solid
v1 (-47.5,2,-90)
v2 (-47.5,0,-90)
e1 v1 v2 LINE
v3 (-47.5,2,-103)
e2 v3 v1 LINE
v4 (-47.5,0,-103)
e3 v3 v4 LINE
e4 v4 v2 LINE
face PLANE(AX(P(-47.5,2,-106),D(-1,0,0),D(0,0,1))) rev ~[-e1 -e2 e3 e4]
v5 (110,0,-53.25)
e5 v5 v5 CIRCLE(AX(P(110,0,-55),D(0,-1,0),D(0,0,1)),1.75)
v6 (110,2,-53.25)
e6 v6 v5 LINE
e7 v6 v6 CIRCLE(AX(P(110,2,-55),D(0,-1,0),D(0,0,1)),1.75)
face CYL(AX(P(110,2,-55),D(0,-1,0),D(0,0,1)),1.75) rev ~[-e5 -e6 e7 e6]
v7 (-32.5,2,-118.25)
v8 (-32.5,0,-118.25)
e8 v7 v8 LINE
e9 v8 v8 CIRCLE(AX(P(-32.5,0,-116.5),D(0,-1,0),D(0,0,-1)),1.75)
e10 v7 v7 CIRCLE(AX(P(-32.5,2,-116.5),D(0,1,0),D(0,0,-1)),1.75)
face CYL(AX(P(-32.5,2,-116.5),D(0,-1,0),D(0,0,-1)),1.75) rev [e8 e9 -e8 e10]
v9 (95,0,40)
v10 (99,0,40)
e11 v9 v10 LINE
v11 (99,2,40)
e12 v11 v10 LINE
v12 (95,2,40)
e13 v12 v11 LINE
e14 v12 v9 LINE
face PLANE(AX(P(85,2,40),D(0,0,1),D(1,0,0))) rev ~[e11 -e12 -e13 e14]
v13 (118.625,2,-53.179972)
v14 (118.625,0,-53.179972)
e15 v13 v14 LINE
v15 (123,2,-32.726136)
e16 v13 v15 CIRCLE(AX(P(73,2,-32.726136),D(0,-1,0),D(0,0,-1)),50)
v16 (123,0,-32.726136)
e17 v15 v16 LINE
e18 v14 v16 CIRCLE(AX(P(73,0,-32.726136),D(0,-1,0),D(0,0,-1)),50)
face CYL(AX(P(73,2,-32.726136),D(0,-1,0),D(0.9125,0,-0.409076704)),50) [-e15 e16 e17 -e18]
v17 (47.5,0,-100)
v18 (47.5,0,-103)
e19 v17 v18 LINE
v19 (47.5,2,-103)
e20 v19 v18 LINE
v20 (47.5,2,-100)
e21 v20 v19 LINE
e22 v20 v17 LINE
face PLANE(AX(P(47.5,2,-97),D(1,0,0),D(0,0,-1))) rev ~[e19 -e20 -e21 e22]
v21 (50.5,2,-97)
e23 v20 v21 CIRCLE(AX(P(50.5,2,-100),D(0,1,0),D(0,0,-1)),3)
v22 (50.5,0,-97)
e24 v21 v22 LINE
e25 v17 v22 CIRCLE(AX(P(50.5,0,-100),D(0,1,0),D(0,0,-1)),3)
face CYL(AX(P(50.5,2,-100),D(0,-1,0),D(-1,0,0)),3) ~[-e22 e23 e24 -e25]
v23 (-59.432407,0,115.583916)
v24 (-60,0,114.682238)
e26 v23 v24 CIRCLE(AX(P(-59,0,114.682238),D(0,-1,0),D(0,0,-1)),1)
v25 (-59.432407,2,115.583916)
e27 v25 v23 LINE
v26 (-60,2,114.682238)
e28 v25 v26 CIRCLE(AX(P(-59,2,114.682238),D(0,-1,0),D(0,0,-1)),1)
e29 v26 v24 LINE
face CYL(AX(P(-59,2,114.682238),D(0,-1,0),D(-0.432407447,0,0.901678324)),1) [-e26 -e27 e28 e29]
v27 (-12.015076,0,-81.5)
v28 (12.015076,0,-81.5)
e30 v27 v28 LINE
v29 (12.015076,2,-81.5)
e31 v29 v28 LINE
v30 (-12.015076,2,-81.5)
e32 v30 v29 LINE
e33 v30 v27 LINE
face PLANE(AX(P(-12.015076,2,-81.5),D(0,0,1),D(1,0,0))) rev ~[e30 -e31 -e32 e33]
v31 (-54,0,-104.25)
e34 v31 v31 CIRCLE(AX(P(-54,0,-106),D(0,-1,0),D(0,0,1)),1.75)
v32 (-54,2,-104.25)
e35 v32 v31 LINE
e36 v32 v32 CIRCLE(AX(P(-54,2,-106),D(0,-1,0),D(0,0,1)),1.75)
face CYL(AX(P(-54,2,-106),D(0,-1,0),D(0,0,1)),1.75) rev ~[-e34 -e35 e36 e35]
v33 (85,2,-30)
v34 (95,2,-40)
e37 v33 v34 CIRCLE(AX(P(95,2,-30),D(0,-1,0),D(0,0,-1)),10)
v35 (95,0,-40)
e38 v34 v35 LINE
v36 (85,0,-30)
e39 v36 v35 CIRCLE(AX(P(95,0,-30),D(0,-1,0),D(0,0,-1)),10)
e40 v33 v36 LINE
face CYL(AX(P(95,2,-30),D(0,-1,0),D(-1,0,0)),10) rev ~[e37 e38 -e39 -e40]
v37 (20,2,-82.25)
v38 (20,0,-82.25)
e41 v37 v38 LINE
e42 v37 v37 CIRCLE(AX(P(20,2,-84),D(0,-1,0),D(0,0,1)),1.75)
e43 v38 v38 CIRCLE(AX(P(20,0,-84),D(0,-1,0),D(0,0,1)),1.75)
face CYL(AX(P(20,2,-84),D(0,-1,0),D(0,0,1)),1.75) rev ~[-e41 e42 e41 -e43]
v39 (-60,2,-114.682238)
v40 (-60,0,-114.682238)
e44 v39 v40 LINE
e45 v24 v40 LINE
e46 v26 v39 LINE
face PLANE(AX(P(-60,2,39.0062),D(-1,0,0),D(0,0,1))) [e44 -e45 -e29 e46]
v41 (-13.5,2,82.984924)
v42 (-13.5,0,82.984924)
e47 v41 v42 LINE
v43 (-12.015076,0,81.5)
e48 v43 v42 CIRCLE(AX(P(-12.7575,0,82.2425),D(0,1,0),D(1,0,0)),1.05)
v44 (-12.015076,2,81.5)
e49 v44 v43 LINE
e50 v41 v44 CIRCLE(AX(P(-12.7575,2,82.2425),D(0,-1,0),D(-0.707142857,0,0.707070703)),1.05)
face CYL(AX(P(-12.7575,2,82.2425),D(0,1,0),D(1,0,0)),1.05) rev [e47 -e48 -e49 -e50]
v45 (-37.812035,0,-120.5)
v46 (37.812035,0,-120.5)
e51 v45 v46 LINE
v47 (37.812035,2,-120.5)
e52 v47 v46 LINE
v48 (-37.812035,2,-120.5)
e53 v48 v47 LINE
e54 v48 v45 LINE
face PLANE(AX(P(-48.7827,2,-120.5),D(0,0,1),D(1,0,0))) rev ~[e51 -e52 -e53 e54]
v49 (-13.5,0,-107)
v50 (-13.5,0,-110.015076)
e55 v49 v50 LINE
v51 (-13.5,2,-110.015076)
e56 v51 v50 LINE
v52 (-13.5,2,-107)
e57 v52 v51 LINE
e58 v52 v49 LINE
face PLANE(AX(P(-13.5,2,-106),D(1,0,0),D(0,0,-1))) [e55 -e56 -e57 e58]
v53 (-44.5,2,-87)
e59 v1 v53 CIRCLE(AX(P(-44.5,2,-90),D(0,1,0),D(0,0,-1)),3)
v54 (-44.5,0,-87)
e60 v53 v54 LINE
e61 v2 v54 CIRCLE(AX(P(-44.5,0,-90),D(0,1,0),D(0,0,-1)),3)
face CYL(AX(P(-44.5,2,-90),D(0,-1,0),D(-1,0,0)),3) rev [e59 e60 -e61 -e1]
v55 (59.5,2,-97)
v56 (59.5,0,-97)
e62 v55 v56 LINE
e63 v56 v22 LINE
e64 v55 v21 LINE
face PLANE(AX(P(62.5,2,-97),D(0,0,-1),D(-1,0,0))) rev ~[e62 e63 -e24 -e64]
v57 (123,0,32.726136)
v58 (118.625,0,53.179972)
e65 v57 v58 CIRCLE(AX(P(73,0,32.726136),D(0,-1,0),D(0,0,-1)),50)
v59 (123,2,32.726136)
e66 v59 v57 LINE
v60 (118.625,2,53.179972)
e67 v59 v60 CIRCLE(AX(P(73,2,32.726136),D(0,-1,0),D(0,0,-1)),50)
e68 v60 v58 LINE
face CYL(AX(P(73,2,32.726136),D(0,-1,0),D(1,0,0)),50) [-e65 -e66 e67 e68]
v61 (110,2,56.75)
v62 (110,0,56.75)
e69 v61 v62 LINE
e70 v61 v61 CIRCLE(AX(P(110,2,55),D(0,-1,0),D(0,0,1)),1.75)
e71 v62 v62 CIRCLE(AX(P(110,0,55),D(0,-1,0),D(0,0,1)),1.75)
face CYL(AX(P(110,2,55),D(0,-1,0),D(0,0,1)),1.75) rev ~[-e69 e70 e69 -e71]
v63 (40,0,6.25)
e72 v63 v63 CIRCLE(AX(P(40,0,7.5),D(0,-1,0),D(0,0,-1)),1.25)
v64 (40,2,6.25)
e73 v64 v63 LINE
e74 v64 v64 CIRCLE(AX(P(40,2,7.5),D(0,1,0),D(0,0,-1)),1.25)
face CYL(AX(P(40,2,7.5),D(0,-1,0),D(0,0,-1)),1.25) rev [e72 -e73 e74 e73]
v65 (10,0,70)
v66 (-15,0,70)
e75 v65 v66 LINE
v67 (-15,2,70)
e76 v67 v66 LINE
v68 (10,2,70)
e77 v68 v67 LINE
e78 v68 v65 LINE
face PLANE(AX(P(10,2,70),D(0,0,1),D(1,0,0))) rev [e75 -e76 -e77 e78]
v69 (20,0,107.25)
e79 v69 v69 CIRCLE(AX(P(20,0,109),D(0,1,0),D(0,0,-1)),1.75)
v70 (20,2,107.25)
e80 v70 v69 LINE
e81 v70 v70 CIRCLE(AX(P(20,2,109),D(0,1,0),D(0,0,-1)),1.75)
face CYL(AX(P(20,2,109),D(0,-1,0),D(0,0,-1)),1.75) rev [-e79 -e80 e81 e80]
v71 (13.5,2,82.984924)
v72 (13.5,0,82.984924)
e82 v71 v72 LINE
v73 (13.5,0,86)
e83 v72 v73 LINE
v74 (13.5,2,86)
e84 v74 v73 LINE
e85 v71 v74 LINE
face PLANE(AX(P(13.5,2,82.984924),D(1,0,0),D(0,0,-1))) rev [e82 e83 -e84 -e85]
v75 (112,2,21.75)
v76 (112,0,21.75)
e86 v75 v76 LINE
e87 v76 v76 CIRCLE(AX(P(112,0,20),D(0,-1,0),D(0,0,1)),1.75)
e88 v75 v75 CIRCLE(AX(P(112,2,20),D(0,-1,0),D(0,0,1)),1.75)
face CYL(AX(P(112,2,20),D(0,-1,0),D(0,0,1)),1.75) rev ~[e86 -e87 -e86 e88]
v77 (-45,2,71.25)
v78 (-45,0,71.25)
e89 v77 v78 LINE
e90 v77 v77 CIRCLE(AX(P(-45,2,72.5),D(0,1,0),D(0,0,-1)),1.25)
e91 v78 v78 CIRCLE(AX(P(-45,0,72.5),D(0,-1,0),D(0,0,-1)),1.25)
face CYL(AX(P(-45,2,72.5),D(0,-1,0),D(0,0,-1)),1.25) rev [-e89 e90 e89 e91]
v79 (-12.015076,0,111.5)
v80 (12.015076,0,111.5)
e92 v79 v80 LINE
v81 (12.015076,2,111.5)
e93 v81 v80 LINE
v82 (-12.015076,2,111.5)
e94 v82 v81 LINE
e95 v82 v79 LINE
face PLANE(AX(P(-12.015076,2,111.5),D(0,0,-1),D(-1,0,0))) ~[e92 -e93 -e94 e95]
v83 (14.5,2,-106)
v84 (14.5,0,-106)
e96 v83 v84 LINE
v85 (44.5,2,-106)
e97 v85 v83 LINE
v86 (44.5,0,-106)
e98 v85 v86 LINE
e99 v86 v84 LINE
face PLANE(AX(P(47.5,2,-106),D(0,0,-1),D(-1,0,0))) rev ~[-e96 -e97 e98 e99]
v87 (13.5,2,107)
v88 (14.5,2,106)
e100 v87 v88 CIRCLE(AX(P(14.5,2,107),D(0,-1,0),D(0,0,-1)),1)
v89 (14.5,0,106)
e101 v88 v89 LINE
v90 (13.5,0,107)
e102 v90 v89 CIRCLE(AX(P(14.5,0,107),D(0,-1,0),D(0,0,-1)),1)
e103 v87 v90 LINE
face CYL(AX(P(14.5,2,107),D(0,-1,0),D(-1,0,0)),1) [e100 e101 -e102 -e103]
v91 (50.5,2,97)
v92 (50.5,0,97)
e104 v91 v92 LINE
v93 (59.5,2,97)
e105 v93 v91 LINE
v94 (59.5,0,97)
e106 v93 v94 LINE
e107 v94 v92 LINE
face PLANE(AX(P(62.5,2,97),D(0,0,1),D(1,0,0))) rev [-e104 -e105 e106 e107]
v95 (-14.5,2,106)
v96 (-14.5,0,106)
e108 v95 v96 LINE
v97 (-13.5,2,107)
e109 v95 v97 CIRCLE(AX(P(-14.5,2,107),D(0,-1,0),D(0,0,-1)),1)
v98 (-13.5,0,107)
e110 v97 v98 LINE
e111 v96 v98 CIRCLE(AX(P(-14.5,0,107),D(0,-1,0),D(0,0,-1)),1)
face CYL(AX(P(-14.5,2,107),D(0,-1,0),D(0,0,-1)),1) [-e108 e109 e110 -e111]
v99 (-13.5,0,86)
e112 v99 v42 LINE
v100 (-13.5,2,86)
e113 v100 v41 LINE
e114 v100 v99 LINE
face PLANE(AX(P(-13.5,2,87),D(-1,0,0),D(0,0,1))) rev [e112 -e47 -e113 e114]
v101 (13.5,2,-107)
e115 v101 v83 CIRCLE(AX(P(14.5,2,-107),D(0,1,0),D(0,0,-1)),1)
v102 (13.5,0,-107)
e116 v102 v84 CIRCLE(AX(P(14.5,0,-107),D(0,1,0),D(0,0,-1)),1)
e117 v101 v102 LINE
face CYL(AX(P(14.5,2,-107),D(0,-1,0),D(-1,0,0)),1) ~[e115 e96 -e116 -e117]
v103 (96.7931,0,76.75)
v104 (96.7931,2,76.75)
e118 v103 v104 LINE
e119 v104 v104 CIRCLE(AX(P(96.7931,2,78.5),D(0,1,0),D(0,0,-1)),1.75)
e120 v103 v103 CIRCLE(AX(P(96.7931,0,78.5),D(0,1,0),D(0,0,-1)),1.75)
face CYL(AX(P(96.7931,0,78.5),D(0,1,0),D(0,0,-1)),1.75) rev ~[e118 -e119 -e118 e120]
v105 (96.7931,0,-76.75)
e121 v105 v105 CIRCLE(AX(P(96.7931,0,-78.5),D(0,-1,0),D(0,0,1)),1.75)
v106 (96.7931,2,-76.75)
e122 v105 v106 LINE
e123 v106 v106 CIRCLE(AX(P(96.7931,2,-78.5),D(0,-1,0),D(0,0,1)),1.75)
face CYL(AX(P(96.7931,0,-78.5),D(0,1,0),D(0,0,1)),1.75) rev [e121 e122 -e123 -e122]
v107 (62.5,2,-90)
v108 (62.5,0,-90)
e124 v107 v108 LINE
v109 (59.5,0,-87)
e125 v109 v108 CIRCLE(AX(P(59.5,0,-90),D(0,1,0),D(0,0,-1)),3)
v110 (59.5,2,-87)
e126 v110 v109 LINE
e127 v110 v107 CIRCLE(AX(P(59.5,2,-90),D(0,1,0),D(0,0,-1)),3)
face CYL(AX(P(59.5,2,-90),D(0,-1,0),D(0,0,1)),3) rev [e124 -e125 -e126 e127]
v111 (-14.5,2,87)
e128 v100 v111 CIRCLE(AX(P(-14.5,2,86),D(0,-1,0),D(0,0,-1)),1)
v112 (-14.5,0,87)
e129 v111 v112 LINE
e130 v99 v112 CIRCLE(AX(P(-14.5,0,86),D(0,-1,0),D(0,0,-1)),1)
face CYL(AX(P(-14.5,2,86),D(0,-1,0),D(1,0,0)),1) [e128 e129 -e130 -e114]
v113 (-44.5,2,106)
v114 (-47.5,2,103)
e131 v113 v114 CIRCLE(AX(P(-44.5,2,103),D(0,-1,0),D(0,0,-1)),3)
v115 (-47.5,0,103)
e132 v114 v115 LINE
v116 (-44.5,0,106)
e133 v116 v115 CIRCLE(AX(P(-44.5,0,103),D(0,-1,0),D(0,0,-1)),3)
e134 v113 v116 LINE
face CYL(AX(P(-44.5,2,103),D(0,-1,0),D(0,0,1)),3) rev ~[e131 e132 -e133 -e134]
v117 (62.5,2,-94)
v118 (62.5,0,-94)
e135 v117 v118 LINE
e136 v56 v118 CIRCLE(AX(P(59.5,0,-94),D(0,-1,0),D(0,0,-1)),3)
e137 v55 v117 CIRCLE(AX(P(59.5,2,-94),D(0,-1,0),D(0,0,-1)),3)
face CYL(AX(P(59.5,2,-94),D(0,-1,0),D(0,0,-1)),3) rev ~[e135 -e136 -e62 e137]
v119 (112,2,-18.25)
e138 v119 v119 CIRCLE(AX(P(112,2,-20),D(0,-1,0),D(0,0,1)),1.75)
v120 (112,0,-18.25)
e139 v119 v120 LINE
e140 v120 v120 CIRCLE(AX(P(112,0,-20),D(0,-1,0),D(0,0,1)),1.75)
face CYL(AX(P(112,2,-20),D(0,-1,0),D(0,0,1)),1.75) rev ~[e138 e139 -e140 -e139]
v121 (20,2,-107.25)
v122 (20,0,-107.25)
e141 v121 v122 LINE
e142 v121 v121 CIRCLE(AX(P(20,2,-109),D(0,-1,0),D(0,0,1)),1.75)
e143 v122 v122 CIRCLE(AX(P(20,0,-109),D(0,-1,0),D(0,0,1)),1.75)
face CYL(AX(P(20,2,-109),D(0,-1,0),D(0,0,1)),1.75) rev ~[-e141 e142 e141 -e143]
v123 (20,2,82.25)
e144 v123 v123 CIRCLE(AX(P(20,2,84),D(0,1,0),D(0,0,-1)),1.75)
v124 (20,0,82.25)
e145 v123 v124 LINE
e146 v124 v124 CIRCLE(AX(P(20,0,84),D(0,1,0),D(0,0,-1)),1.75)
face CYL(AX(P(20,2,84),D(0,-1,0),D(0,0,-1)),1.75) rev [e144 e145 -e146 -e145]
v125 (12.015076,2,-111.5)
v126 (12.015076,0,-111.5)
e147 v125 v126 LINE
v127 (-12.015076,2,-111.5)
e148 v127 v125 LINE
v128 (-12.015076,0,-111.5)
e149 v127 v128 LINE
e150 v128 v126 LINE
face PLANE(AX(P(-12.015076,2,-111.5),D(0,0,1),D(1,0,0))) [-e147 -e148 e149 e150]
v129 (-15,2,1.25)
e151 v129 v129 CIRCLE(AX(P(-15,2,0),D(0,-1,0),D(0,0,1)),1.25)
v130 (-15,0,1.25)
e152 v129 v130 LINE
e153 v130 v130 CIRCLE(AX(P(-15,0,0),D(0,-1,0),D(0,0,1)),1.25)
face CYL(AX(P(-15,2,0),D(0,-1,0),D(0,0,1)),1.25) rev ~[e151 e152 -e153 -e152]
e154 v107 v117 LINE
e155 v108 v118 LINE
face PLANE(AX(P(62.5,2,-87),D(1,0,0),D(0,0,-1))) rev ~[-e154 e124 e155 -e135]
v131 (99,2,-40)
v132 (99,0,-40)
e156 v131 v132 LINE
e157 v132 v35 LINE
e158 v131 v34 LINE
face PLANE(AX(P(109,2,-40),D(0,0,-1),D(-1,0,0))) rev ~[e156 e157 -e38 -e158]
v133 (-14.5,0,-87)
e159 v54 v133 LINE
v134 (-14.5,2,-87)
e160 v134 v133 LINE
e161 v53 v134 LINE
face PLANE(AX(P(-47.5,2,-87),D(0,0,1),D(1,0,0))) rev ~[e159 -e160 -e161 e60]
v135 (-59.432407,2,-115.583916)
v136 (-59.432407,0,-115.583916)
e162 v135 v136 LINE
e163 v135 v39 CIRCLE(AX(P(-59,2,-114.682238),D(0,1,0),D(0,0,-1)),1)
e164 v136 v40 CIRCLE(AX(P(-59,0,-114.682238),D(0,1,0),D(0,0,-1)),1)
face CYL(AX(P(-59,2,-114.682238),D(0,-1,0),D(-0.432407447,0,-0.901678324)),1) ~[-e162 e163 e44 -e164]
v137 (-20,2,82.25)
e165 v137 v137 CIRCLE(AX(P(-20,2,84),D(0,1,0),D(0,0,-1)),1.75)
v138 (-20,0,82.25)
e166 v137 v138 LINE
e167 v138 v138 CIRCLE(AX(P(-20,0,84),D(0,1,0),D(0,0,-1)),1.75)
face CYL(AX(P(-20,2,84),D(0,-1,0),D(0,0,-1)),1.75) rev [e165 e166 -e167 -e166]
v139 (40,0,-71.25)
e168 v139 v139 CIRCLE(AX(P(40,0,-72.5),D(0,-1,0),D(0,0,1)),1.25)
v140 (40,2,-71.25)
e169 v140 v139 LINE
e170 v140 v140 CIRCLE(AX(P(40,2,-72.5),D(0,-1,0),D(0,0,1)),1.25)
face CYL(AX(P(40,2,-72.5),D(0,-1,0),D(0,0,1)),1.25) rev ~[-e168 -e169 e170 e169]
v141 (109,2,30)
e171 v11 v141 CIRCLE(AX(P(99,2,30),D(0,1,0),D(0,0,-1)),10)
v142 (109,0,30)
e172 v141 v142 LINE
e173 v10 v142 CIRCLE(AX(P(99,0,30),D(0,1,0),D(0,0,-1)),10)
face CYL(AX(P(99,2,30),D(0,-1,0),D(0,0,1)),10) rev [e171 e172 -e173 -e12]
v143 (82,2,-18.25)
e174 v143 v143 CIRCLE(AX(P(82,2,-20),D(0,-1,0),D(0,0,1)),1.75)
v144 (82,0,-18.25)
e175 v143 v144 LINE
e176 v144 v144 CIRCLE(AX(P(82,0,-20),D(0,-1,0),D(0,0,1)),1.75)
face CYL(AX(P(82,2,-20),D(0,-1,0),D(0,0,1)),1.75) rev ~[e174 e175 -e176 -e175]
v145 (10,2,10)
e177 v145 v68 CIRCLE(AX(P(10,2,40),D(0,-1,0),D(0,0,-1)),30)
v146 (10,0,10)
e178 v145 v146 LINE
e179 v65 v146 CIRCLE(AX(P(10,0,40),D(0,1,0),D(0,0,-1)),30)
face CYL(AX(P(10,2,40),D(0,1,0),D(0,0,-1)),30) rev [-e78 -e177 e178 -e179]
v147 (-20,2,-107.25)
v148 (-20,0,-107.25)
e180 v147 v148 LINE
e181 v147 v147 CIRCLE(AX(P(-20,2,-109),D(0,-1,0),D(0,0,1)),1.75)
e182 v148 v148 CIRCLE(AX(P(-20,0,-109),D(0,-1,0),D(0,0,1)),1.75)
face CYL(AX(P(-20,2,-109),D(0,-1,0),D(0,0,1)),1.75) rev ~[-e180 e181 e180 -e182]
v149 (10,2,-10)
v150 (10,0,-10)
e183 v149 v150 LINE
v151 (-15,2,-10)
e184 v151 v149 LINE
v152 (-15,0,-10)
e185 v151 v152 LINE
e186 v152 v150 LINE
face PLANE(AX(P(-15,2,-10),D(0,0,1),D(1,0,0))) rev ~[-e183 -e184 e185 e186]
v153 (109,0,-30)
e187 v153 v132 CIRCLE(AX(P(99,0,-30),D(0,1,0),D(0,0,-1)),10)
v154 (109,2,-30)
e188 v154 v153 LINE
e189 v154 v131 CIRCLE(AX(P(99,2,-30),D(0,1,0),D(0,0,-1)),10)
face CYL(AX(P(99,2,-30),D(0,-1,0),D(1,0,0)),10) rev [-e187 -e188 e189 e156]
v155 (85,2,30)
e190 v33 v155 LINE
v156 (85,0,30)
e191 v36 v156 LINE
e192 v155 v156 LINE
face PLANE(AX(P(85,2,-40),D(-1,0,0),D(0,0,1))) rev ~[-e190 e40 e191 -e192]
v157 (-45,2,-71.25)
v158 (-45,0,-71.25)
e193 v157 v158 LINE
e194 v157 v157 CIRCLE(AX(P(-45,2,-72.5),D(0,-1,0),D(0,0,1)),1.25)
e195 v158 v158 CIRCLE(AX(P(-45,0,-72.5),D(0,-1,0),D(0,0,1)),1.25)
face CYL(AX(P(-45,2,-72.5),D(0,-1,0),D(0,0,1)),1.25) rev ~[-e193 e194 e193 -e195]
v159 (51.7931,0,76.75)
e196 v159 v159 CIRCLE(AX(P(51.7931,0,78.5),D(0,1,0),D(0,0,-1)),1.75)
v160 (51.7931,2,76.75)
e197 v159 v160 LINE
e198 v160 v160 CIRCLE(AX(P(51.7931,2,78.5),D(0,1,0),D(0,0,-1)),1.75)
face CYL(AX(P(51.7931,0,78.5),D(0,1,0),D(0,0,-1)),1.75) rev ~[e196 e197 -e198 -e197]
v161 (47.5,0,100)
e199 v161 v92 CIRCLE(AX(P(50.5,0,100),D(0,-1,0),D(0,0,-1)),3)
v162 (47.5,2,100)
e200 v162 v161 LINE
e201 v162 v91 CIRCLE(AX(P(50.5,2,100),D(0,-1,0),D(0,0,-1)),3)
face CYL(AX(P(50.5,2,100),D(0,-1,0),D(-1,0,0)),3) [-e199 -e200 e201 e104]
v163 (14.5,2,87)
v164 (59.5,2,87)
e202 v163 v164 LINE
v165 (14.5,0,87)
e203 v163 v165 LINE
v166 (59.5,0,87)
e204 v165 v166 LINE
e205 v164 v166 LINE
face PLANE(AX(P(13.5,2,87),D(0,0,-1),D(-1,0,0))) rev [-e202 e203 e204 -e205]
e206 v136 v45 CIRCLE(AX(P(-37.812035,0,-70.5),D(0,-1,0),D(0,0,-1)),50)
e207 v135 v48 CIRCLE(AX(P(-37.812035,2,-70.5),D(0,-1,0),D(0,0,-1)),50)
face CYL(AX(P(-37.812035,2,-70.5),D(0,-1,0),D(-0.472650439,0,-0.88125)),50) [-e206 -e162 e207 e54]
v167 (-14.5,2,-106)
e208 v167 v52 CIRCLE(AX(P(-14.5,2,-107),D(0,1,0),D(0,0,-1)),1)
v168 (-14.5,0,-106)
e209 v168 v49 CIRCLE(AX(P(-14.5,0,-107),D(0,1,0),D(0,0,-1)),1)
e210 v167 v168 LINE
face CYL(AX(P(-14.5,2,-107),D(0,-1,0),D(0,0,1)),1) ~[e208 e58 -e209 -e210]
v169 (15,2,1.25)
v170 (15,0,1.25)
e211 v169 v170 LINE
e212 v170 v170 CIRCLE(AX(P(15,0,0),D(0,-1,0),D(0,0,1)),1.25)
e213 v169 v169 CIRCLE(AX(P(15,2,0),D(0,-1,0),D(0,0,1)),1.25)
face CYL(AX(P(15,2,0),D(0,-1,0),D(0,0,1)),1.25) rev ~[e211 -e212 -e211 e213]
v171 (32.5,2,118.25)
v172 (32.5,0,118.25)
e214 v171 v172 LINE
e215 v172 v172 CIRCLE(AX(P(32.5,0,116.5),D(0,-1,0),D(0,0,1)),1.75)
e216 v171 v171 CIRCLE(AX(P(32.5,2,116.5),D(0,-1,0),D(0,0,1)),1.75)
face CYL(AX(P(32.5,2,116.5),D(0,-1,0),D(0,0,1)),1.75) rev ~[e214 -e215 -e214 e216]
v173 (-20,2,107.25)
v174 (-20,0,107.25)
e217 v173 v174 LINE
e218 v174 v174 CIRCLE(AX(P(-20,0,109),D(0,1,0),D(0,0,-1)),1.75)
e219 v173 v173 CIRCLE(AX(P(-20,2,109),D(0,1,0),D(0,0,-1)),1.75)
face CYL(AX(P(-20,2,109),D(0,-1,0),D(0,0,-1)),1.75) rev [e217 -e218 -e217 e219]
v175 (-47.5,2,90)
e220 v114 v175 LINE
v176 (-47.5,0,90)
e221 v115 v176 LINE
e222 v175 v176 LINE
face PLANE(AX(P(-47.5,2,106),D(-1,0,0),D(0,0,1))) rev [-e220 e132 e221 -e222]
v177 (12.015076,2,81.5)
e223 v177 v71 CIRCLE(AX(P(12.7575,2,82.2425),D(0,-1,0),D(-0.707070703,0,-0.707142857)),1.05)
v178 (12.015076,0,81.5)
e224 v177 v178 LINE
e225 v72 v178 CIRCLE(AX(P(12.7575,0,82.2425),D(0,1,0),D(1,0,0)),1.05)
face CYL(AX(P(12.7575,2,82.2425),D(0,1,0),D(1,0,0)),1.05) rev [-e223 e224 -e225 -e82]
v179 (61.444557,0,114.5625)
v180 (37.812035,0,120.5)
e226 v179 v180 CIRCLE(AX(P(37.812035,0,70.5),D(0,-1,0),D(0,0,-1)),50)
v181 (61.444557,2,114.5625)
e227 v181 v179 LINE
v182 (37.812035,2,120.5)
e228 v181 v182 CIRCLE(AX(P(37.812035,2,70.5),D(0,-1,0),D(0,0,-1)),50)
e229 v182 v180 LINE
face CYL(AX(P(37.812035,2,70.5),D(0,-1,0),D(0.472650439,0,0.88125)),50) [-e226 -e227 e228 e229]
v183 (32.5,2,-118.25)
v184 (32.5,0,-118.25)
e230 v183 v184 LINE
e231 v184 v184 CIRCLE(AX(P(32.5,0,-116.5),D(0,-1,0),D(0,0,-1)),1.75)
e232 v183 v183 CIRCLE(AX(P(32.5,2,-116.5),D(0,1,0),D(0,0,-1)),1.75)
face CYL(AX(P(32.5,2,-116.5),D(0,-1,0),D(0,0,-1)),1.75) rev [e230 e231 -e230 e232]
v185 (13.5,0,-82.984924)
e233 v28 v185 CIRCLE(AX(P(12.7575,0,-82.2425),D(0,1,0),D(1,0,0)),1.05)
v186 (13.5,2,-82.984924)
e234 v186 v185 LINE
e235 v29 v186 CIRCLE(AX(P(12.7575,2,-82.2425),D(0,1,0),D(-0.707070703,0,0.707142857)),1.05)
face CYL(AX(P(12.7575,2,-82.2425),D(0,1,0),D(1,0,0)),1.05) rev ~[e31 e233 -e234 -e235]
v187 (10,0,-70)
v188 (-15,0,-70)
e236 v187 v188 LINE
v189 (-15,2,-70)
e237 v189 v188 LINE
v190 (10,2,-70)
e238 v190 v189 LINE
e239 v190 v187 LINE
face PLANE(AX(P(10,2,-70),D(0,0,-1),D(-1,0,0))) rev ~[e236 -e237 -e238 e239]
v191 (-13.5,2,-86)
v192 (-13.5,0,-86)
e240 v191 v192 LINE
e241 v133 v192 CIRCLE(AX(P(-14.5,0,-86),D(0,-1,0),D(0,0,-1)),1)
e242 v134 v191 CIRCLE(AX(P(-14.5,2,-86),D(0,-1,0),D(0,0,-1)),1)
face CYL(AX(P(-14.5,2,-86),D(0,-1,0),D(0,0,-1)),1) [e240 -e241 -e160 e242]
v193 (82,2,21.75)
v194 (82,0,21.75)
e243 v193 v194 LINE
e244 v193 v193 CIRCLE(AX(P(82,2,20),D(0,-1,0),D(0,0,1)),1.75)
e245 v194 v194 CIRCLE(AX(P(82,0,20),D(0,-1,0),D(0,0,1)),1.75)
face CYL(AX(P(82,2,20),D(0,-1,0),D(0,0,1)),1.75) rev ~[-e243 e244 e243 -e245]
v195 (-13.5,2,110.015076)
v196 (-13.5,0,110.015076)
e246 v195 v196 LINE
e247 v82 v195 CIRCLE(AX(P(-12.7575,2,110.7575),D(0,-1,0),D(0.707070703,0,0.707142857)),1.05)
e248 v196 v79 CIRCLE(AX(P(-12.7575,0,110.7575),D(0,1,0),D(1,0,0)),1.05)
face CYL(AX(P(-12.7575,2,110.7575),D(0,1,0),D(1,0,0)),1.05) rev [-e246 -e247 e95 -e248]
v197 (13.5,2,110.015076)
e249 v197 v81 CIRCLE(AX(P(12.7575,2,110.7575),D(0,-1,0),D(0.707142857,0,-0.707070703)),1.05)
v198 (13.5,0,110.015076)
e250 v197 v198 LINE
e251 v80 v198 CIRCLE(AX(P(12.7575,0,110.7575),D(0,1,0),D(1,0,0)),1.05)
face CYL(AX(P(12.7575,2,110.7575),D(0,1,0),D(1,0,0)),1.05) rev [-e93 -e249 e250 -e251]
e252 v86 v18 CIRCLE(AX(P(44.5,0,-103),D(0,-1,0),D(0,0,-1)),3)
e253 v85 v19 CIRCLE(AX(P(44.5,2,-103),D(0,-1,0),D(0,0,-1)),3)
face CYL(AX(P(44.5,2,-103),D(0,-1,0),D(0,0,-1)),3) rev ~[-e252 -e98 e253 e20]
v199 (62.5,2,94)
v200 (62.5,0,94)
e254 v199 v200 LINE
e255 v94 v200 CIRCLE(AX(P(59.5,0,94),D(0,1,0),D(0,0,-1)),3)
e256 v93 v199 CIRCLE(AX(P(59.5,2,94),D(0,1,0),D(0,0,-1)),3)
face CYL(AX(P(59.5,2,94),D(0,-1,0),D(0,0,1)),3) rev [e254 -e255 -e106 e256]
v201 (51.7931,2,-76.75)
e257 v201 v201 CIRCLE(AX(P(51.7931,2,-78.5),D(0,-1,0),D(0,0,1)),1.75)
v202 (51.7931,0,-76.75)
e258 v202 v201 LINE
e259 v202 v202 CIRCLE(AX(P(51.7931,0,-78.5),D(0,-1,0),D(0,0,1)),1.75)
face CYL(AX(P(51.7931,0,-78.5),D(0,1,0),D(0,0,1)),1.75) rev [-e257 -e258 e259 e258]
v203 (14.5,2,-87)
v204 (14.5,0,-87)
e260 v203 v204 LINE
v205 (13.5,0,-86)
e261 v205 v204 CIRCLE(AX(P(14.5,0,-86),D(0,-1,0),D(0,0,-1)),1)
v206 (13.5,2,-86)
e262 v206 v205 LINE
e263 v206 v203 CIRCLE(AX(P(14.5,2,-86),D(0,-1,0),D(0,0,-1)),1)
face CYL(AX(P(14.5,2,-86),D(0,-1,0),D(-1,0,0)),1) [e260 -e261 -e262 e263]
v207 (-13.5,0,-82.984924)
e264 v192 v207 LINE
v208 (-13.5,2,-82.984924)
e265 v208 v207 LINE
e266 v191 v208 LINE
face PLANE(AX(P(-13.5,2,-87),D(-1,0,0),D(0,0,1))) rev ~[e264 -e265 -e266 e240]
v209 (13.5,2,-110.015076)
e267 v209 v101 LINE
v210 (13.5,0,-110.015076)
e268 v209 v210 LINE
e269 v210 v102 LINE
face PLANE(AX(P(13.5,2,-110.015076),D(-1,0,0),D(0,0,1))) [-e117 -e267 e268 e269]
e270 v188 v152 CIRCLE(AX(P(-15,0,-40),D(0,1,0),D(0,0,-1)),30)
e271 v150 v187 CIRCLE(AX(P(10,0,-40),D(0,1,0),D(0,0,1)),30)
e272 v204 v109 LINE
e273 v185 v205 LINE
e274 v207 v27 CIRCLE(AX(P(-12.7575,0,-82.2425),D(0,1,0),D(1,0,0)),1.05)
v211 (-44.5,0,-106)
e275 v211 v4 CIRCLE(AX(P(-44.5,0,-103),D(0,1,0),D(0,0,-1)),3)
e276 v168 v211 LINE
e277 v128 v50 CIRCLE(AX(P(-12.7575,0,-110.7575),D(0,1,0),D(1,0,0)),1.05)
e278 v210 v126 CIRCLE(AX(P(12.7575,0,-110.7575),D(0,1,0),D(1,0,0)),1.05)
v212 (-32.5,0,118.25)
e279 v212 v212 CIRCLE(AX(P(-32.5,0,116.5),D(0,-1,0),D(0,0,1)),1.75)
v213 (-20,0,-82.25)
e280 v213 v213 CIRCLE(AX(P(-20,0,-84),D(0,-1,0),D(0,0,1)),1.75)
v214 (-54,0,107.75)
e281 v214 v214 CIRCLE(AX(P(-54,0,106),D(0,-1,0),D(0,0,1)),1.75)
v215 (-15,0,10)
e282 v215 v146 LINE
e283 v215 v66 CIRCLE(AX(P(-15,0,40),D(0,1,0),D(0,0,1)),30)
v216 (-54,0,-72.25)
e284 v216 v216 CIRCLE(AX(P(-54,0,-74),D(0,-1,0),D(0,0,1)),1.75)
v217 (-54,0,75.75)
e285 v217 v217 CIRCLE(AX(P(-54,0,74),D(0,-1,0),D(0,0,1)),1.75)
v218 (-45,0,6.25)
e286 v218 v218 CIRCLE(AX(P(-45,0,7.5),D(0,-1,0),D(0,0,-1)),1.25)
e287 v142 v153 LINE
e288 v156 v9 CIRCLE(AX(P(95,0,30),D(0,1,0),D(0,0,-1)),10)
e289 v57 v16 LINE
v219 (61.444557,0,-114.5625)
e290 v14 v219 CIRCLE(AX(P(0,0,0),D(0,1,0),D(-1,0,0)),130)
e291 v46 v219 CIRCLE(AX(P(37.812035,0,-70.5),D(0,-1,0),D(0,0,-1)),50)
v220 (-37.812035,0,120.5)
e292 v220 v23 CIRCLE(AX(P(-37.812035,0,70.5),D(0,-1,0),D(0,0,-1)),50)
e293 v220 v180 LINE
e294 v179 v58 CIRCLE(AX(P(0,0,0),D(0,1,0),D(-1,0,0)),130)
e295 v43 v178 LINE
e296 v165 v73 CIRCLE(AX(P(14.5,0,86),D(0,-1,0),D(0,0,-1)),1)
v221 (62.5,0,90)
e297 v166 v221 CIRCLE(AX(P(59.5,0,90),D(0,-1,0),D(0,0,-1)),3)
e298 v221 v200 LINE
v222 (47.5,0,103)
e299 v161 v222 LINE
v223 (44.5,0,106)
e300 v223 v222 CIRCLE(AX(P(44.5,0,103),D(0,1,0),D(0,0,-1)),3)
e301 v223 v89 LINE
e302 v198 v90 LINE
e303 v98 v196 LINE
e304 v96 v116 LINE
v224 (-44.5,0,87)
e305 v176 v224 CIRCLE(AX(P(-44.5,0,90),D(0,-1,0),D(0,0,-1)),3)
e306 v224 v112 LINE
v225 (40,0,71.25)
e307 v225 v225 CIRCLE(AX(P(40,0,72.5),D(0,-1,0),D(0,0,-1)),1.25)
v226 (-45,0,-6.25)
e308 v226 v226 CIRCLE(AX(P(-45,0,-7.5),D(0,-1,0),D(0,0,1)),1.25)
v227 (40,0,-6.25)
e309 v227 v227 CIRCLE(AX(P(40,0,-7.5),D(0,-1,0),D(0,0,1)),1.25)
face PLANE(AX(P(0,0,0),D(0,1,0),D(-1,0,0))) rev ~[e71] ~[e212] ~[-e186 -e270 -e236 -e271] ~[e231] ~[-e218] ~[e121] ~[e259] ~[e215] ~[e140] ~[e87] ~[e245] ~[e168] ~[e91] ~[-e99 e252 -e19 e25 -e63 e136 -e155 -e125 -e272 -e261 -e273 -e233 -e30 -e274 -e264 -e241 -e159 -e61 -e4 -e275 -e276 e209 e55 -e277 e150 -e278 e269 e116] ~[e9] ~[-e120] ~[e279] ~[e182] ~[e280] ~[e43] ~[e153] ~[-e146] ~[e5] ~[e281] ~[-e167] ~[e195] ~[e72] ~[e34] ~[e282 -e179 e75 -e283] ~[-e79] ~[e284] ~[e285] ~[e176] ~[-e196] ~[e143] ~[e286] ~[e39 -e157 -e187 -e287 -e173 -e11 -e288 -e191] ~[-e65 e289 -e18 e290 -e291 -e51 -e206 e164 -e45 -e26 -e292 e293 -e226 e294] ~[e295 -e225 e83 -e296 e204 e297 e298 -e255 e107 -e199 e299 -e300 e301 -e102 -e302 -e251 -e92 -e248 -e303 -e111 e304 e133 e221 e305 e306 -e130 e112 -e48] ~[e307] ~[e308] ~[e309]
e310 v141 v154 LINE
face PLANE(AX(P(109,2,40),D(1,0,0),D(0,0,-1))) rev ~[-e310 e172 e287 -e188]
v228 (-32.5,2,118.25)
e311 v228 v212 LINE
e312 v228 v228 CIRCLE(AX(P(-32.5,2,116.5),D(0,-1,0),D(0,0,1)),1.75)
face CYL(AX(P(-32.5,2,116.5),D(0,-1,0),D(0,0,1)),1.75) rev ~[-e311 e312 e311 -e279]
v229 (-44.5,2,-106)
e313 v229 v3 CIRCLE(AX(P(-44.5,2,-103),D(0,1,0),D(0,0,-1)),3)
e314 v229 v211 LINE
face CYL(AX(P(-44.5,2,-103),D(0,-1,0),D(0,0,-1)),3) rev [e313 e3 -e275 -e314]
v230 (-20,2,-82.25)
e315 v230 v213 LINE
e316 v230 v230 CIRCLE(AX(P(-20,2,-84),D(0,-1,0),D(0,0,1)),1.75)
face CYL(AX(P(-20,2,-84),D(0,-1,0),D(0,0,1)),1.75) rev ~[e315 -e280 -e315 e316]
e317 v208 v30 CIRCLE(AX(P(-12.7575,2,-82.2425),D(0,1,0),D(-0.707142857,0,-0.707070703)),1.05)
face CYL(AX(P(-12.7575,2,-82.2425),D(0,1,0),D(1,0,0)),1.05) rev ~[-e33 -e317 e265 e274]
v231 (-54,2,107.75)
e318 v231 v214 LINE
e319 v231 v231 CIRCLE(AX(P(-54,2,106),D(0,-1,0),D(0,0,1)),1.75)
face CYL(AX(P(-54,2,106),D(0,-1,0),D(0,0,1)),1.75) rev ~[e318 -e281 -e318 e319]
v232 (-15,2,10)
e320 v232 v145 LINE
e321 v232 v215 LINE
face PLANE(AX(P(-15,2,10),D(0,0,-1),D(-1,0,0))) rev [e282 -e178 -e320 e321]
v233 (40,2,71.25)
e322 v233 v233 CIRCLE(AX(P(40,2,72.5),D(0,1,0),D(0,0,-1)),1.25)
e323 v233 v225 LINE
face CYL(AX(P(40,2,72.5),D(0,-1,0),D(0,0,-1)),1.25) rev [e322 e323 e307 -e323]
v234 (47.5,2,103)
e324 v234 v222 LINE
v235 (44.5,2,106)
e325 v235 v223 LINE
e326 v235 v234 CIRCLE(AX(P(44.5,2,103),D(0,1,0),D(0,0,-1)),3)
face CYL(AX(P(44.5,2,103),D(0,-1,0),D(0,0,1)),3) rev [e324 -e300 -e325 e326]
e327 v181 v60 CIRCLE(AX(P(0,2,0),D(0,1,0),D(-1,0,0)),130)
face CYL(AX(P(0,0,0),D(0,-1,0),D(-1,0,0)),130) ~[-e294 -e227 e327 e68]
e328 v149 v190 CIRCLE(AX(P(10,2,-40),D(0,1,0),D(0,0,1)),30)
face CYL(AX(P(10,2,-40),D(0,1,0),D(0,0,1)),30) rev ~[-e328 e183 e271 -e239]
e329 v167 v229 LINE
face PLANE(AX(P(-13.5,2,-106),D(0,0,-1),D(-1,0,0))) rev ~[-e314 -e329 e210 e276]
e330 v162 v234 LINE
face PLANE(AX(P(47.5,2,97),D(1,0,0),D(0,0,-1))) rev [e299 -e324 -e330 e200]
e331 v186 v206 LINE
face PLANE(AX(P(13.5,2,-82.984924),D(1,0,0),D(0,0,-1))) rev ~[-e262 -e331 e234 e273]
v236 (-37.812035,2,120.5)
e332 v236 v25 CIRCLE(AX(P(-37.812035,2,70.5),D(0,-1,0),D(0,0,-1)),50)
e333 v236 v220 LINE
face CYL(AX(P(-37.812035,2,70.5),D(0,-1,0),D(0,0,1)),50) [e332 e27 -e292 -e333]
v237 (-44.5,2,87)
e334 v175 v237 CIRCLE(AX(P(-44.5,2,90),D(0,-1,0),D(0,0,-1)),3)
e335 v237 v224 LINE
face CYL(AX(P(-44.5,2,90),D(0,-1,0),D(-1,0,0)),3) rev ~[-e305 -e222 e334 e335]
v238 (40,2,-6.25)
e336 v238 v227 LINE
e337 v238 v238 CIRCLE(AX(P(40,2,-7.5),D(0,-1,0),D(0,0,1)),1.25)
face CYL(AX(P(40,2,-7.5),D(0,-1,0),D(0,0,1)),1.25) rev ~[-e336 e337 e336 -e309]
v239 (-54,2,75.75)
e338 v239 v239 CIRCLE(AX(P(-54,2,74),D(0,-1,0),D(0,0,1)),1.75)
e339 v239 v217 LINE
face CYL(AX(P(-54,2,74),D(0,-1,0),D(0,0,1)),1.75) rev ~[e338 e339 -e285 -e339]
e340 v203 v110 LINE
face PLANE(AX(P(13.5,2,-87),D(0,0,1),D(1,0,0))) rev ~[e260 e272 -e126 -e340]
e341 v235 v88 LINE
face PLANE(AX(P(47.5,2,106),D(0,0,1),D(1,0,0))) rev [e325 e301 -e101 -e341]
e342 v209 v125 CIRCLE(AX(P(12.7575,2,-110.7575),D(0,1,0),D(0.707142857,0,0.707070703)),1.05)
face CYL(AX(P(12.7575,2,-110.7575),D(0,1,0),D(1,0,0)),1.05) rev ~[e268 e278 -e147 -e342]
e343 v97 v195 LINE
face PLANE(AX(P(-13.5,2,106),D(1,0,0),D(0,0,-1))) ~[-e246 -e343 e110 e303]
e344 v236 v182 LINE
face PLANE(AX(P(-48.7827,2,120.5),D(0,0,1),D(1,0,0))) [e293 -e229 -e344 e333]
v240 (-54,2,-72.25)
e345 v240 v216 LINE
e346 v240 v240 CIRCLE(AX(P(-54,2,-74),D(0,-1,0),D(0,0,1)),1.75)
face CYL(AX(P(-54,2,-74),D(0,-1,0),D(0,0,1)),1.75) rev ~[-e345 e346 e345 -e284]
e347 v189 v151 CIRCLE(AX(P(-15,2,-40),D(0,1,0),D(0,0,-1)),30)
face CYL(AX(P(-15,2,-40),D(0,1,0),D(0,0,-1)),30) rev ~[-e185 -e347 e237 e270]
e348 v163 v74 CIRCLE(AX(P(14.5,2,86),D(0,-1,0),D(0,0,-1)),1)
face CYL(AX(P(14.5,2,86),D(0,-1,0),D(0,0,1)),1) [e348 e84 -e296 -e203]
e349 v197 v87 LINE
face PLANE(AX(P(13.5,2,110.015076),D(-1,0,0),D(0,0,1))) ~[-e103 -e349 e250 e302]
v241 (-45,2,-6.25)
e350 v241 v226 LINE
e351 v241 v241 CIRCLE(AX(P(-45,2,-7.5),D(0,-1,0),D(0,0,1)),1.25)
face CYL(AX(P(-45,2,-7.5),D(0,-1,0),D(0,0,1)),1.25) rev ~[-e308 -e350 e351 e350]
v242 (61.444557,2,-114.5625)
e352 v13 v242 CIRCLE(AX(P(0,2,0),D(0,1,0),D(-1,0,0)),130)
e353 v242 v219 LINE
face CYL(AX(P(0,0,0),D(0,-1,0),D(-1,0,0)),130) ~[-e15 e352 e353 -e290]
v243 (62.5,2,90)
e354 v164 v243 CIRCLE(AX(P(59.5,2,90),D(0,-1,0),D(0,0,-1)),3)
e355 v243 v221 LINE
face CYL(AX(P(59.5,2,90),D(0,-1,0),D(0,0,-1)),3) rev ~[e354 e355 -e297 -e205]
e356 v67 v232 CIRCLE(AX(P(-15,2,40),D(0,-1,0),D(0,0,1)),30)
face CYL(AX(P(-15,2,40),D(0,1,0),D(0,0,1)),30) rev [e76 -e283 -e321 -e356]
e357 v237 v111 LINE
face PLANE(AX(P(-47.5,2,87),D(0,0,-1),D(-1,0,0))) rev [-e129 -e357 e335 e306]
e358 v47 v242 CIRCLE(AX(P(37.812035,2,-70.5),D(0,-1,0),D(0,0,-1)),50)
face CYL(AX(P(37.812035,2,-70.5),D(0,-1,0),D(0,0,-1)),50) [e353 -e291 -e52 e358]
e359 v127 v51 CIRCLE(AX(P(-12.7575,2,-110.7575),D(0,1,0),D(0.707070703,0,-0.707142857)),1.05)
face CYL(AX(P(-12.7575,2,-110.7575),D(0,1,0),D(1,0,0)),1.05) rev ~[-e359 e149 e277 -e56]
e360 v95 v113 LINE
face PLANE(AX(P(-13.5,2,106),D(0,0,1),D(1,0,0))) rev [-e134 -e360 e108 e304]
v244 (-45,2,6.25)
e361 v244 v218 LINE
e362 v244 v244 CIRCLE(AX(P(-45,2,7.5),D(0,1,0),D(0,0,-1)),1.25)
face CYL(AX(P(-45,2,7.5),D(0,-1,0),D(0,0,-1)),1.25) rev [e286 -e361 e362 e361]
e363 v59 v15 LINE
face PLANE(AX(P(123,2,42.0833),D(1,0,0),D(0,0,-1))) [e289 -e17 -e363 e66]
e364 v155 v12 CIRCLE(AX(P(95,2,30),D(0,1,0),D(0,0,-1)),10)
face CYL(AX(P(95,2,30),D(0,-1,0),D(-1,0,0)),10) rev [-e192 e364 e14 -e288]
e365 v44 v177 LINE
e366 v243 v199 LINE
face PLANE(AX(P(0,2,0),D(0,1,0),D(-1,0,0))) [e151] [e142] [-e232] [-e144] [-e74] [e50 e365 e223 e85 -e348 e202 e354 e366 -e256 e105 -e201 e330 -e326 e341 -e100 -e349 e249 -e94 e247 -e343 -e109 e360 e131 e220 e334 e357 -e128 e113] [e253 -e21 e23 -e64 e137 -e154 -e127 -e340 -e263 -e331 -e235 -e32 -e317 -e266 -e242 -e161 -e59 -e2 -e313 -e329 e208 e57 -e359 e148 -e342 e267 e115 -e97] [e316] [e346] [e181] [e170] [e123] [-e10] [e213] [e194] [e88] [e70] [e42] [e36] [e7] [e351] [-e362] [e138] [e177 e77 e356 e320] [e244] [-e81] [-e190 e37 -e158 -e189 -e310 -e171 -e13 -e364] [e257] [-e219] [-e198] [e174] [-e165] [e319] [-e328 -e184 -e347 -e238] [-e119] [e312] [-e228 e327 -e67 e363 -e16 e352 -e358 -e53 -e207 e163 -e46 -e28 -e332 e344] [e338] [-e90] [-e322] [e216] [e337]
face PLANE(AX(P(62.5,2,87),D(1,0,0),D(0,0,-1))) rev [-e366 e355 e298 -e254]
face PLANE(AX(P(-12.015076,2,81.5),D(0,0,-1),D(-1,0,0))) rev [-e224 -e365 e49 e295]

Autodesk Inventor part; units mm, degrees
ref_plane "YZ Plane" through (0, 0, 0) normal (1, 0, 0) x (0, 1, 0)
ref_plane "XZ Plane" through (0, 0, 0) normal (0, 1, 0) x (-1, 0, 0)
ref_plane "XY Plane" through (0, 0, 0) normal (0, 0, 1) x (1, 0, 0)
sketch "スケッチ1" plane through (0, 0, 0) normal (0, 1, 0) x (-1, 0, 0)
  circle A0 centre (0, 0) radius 130
  dimension "d0" = 260
extrude "プレート1" add sketch "スケッチ1" along normal blind 2
sketch "スケッチ2" plane through (0, 2, 0) normal (0, 1, 0) x (1, 0, 0)
  line L0 (85, -40) -> (109, -40)
  line L1 (109, -40) -> (109, 40)
  line L2 (109, 40) -> (85, 40)
  line L3 (85, 40) -> (85, -40)
  line L4 (85, -40) -> (109, 40) construction
  line L5 (109, -40) -> (85, 40) construction
  point P0 (0, 0)
  point P1 (97, 0)
  dimension "d2" = 24
  dimension "d3" = 85
  dimension "d6" = 80
extrude "押し出し1" cut sketch "スケッチ2" against normal through all
fillet "フィレット1" radius 10 4 edges at (109, 1, 40) (85, 1, 40) (85, 1, -40) (109, 1, -40)
sketch "スケッチ3" plane through (0, 2, 0) normal (0, 1, 0) x (1, 0, 0)
  line L0 (85, -30) -> (85, 30) projected
  line L1 (109, 30) -> (109, -30) projected
  line L2 (95, 40) -> (99, 40) projected
  line L3 (99, -40) -> (95, -40) projected
  line L4 (82, -20) -> (112, -20) construction
  line L5 (112, -20) -> (112, 20) construction
  line L6 (112, 20) -> (82, 20) construction
  line L7 (82, 20) -> (82, -20) construction
  line L8 (82, -20) -> (112, 20) construction
  line L9 (112, -20) -> (82, 20) construction
  point P0 (0, 0)
  point P1 (97, 0)
  point P2 (97, 40)
  point P3 (109, 0)
  dimension "d8" = 30
  dimension "d9" = 40
hole "穴1" at (82, 2, 20) at (112, 2, 20) at (112, 2, -20) at (82, 2, -20) direction (0, -1, 0) diameter 3.5 depth 2 tip angle 118
sketch "スケッチ4" plane through (0, 2, 0) normal (0, 1, 0) x (1, 0, 0)
  circle A0 centre (0, 0) radius 130 projected
  line L0 (-106.1838, 75) -> (-60, 40)
  line L1 (-60, 40) -> (-60, -40)
  line L2 (-60, -40) -> (-106.1838, -75)
  point P0 (-60, 0)
  dimension "d17" = 40
  dimension "d18" = 75
  dimension "d19" = 60
extrude "押し出し2" cut sketch "スケッチ4" against normal through all contours L0 L1 L2 A0 picked at (-83.3333, 0)
sketch "スケッチ5" plane through (0, 2, 0) normal (0, 1, 0) x (1, 0, 0)
  line L0 (-47.5, 87) -> (47.5, 87)
  line L1 (47.5, 87) -> (47.5, 106)
  line L2 (47.5, 106) -> (-47.5, 106)
  line L3 (-47.5, 106) -> (-47.5, 87)
  line L4 (-47.5, 87) -> (47.5, 106) construction
  line L5 (47.5, 87) -> (-47.5, 106) construction
  line L6 (-13.5, 81.5) -> (13.5, 81.5)
  line L7 (13.5, 81.5) -> (13.5, 87)
  line L8 (13.5, 87) -> (-13.5, 87)
  line L9 (-13.5, 87) -> (-13.5, 81.5)
  line L10 (-13.5, 81.5) -> (13.5, 87) construction
  line L11 (13.5, 81.5) -> (-13.5, 87) construction
  line L12 (-13.5, 81.5) -> (-12.7575, 82.2425) construction
  line L13 (-13.5, 81.5) -> (-12.45, 81.5) construction
  line L14 (13.5, 81.5) -> (12.7575, 82.2425) construction
  line L15 (13.5, 81.5) -> (14.55, 81.5) construction
  circle A0 centre (12.7575, 82.2425) radius 1.05
  circle A1 centre (-12.7575, 82.2425) radius 1.05
  line L16 (47.5, 87) -> (62.5, 87)
  line L17 (62.5, 87) -> (62.5, 97)
  line L18 (62.5, 97) -> (47.5, 97)
  line L19 (47.5, 97) -> (47.5, 87)
  line L20 (-13.5, 111.5) -> (13.5, 111.5)
  line L21 (13.5, 111.5) -> (13.5, 106)
  line L22 (13.5, 106) -> (-13.5, 106)
  line L23 (-13.5, 106) -> (-13.5, 111.5)
  line L24 (-13.5, 111.5) -> (13.5, 106) construction
  line L25 (13.5, 111.5) -> (-13.5, 106) construction
  line L26 (-13.5, 111.5) -> (-12.7575, 110.7575) construction
  line L27 (-13.5, 111.5) -> (-12.45, 111.5) construction
  line L28 (13.5, 111.5) -> (12.7575, 110.7575) construction
  line L29 (13.5, 111.5) -> (14.55, 111.5) construction
  circle A2 centre (-12.7575, 110.7575) radius 1.05
  circle A3 centre (12.7575, 110.7575) radius 1.05
  point P0 (0, 0)
  point P1 (0, 96.5)
  point P2 (0, 84.25)
  point P3 (-13.5, 82.9849)
  point P4 (-12.0151, 81.5)
  point P5 (12.0151, 81.5)
  point P6 (13.5, 82.9849)
  point P7 (47.5, 97)
  point P8 (0, 108.75)
  point P9 (-13.5, 110.0151)
  point P10 (13.5, 110.0151)
  point P11 (12.0151, 111.5)
  point P12 (-12.0151, 111.5)
  dimension "d22" = 19
  dimension "d23" = 95
  dimension "d24" = 87
  dimension "d25" = 5.5
  dimension "d26" = 27
  dimension "d27" = 1.05
  dimension "d28" = 45
  dimension "d29" = 1.05
  dimension "d30" = 135
  dimension "d44" = 10
  dimension "d45" = 15
  dimension "d46" = 5.5
  dimension "d47" = 1.05
  dimension "d48" = 45
  dimension "d49" = 1.05
  dimension "d50" = 135
extrude "押し出し3" cut sketch "スケッチ5" against normal through all
sketch "スケッチ6" plane through (0, 2, 0) normal (0, 1, 0) x (1, 0, 0)
  line L0 (-20, 84) -> (20, 84) construction
  line L1 (-20, 84) -> (20, 84) construction
  line L2 (12.0151, 81.5) -> (-12.0151, 81.5) construction
  line L3 (-20, 109) -> (20, 109) construction
  line L4 (13.5, 106) -> (47.5, 106) construction
  line L5 (-20, 109) -> (20, 109) construction
  line L6 (-12.0151, 111.5) -> (12.0151, 111.5) construction
  point P0 (0, 0)
  point P1 (0, 84)
  point P2 (0, 109)
  point P3 (0, 84)
  dimension "d33" = 40
  dimension "d34" = 0
  dimension "d35" = 2.5
  dimension "d51" = 40
  dimension "d52" = 0
  dimension "d53" = 2.5
hole "穴2" at (20, 2, -84) at (-20, 2, -84) at (-20, 2, -109) at (20, 2, -109) direction (0, -1, 0) diameter 3.5 depth 2 tip angle 118
fillet "フィレット2" radius 1 4 edges at (-13.5, 1, -87) (13.5, 1, -87) (-13.5, 1, -106) (13.5, 1, -106)
fillet "フィレット3" radius 3 6 edges at (-47.5, 1, -87) (-47.5, 1, -106) (47.5, 1, -106) (47.5, 1, -97) (62.5, 1, -97) (62.5, 1, -87)
mirror "ミラー1" about plane through (0, 0, 0) normal (0, 0, 1) of "穴2", "押し出し3", "フィレット2", "フィレット3"
sketch "スケッチ7" plane through (0, 2, 0) normal (0, 1, 0) x (1, 0, 0)
  arc A0 (-106.1838, -75) -> (-106.1838, 75) centre (0, 0) ccw projected
  line L0 (-48.7827, 120.5) -> (48.7827, 120.5)
  line L1 (-48.7827, -120.5) -> (48.7827, -120.5)
  line L2 (123, -42.0833) -> (123, 42.0833)
  line L3 (-12.0151, 111.5) -> (12.0151, 111.5) projected
  circle A1 centre (112, 20) radius 1.75 projected
  line L4 (12.0151, -111.5) -> (-12.0151, -111.5) projected
  dimension "d55" = 9
  dimension "d56" = 11
  dimension "d57" = 9
extrude "押し出し4" cut sketch "スケッチ7" against normal through all contours L1 A0 | L0 A0 | L2 A0
fillet "フィレット4" radius 50 6 edges at (48.7827, 1, 120.5) (-48.7827, 1, 120.5) (123, 1, -42.0833) (123, 1, 42.0833) (-48.7827, 1, -120.5) (48.7827, 1, -120.5)
sketch "スケッチ8" plane through (0, 0, 0) normal (0, -1, 0) x (1, 0, 0)
  arc A0 (97.4046, 79.5902) -> (95.9996, 79.4659) centre (96.7931, 78.5) ccw projected
  arc A1 (52.5865, 79.4659) -> (51.1816, 79.5902) centre (51.7931, 78.5) ccw projected
  point P0 (0, 0)
hole "穴3" at (96.7931, 0, 78.5) at (51.7931, 0, 78.5) direction (0, 1, 0) diameter 3.5 depth 2 tip angle 118
sketch "スケッチ10" plane through (0, 2, 0) normal (0, 1, 0) x (1, 0, 0)
  line L0 (-32.5, -116.5) -> (32.5, -116.5) construction
  line L1 (-32.5, -116.5) -> (32.5, -116.5) construction
  line L2 (-37.812, -120.5) -> (37.812, -120.5) construction
  point P0 (0, 0)
  point P1 (0, -116.5)
  dimension "d78" = 65
  dimension "d79" = 0
  dimension "d80" = 4
hole "穴5" at (32.5, 2, 116.5) at (-32.5, 2, 116.5) direction (0, -1, 0) diameter 3.5 end through all
mirror "ミラー2" about plane through (0, 0, 0) normal (0, 0, 1) of "穴3", "穴5"
sketch "スケッチ9" plane through (0, 2, 0) normal (0, 1, 0) x (1, 0, 0)
  line L0 (110, -55) -> (110, 55) construction
  line L1 (109, 30) -> (109, -30) construction
  line L2 (110, -55) -> (220, -55) construction
  point P0 (0, 0)
  point P1 (110, 0)
  dimension "d68" = 110
  dimension "d69" = 90
  dimension "d70" = 110
hole "穴4" at (110, 2, 55) at (110, 2, -55) direction (0, -1, 0) diameter 3.5 depth 2 tip angle 118
sketch "スケッチ11" plane through (0, 2, 0) normal (0, 1, 0) x (1, 0, 0)
  line L0 (-45, 7.5) -> (40, 7.5) construction
  line L1 (40, 7.5) -> (40, 72.5) construction
  line L2 (40, 72.5) -> (-45, 72.5) construction
  line L3 (-45, 72.5) -> (-45, 7.5) construction
  line L4 (-45, 7.5) -> (40, 72.5) construction
  line L5 (40, 7.5) -> (-45, 72.5) construction
  line L6 (-60, 40) -> (-60, -40) construction
  point P0 (0, 0)
  point P1 (-2.5, 40)
  dimension "d88" = 85
  dimension "d89" = 65
  dimension "d90" = 7.5
  dimension "d91" = 15
hole "穴6" at (-45, 2, -7.5) at (40, 2, -7.5) at (40, 2, -72.5) at (-45, 2, -72.5) direction (0, -1, 0) diameter 2.5 end through all
sketch "スケッチ12" plane through (0, 2, 0) normal (0, 1, 0) x (1, 0, 0)
  line L0 (-15, 40) -> (10, 40) construction
  line L1 (-15, 10) -> (10, 10)
  line L2 (10, 70) -> (-15, 70)
  arc A0 (-15, 70) -> (-15, 10) centre (-15, 40) ccw
  arc A1 (10, 10) -> (10, 70) centre (10, 40) ccw
  circle A2 centre (-45, 72.5) radius 1.25 projected
  circle A3 centre (-45, 7.5) radius 1.25 projected
  point P0 (0, 0)
  point P1 (-2.5, 40)
  dimension "d99" = 25
  dimension "d100" = 30
  dimension "d101" = 42.5
  dimension "d102" = 32.5
extrude "押し出し5" cut sketch "スケッチ12" against normal through all contours A0 L2 A1 L1
mirror "ミラー3" about plane through (0, 0, 0) normal (0, 0, 1) of "穴6", "押し出し5"
sketch "スケッチ13" plane through (0, 2, 0) normal (0, 1, 0) x (1, 0, 0)
  line L0 (-15, 0) -> (15, 0) construction
  line L1 (-15, 0) -> (15, 0) construction
  point P0 (0, 0)
  point P1 (0, 0)
  dimension "d105" = 30
  dimension "d106" = 0
hole "穴7" at (-15, 2, 0) at (15, 2, 0) direction (0, -1, 0) diameter 2.5 end through all
sketch "スケッチ14" plane through (0, 2, 0) normal (0, 1, 0) x (1, 0, 0)
  line L0 (-106.1838, 75) -> (-60, 40) projected
  arc A0 (-61.4446, 114.5625) -> (-106.1838, 75) centre (0, 0) ccw projected
  line L1 (-60, -40) -> (-106.1838, -75) projected
  arc A1 (-106.1838, -75) -> (-61.4446, -114.5625) centre (0, 0) ccw projected
  line L2 (-102.4695, 80) -> (-102.4695, -80)
  line L3 (-102.4695, 80) -> (57.5305, 80) construction
  point P0 (-102.4695, 72.1852)
  point P1 (-102.4695, -72.1852)
  dimension "d114" = 160
  dimension "d115" = 90
extrude "押し出し6" cut sketch "スケッチ14" against normal through all
sketch "スケッチ15" plane through (0, 2, 0) normal (0, 1, 0) x (1, 0, 0)
  line L0 (-92.9695, -76.5) -> (-82.9695, -76.5) construction
  line L1 (-82.9695, -76.5) -> (-82.9695, 76.5) construction
  line L2 (-82.9695, 76.5) -> (-92.9695, 76.5) construction
  line L3 (-92.9695, 76.5) -> (-92.9695, -76.5) construction
  line L4 (-92.9695, -76.5) -> (-82.9695, 76.5) construction
  line L5 (-82.9695, -76.5) -> (-92.9695, 76.5) construction
  line L6 (-102.4695, 80) -> (-102.4695, 72.1852) construction
  point P0 (0, 0)
  point P1 (-87.9695, 0)
  dimension "d118" = 10
  dimension "d119" = 153
  dimension "d120" = 9.5
hole "穴8" at (-92.9695, 2, -76.5) at (-82.9695, 2, -76.5) at (-82.9695, 2, 76.5) at (-92.9695, 2, 76.5) direction (0, -1, 0) diameter 3.5 end through all
sketch "スケッチ16" plane through (0, 0, 0) normal (0, -1, 0) x (1, 0, 0)
  circle A0 centre (-94.9691, 83.565) radius 1.75 projected
  circle A1 centre (-82.3072, 96.0613) radius 1.75 projected
  circle A2 centre (-94.9691, 83.565) radius 1.75 projected
  point P0 (0, 0)
hole "穴9" at (-94.9691, 0, 83.565) at (-82.3072, 0, 96.0613) direction (0, 1, 0) diameter 3.5 depth 2
mirror "ミラー4" about plane through (0, 0, 0) normal (0, 0, 1) of "穴9"
fillet "フィレット5" radius 2 6 edges at (-102.4695, 1, -72.1852) (-102.4695, 1, -80) (-102.4695, 1, 80) (-60, 1, -40) (-60, 1, 40) (-102.4695, 1, 72.1852)
sketch "スケッチ20" plane through (0, 2, 0) normal (0, 1, 0) x (1, 0, 0)
  line L0 (-60, 39.0062) -> (-60, -39.0062) projected
  arc A0 (-61.4446, 114.5625) -> (-102.0393, 80.548) centre (0, 0) ccw projected
  arc A1 (-102.0393, -80.548) -> (-61.4446, -114.5625) centre (0, 0) ccw projected
  arc A2 (-61.4446, -114.5625) -> (-37.812, -120.5) centre (-37.812, -70.5) ccw projected
  arc A3 (-37.812, 120.5) -> (-61.4446, 114.5625) centre (-37.812, 70.5) ccw projected
  line L1 (-60, 39.0062) -> (-60, 115.3073) construction
  line L2 (-60, -39.0062) -> (-60, -115.3073) construction
  line L3 (-66, 74) -> (-54, 74) construction
  line L4 (-54, 74) -> (-54, 106) construction
  line L5 (-54, 106) -> (-66, 106) construction
  line L6 (-66, 106) -> (-66, 74) construction
  line L7 (-66, 74) -> (-54, 106) construction
  line L8 (-54, 74) -> (-66, 106) construction
  line L9 (-66, -106) -> (-54, -106) construction
  line L10 (-54, -106) -> (-54, -74) construction
  line L11 (-54, -74) -> (-66, -74) construction
  line L12 (-66, -74) -> (-66, -106) construction
  line L13 (-66, -106) -> (-54, -74) construction
  line L14 (-54, -106) -> (-66, -74) construction
  point P0 (-60, 90)
  point P1 (-60, -90)
  dimension "d155" = 12
  dimension "d156" = 32
  dimension "d157" = 12
  dimension "d158" = 32
  dimension "d169" = 90
  dimension "d170" = 90
hole "穴10" at (-54, 2, -74) at (-66, 2, -74) at (-66, 2, -106) at (-54, 2, -106) at (-66, 2, 74) at (-54, 2, 74) at (-54, 2, 106) at (-66, 2, 106) direction (0, -1, 0) diameter 3.5 depth 2
sketch "スケッチ21" plane through (0, 2, 0) normal (0, 1, 0) x (1, 0, 0)
  line L0 (-60, 39.0062) -> (-60, -39.0062) projected
  arc A0 (-61.4446, -114.5625) -> (-37.812, -120.5) centre (-37.812, -70.5) ccw projected
  arc A1 (-37.812, 120.5) -> (-61.4446, 114.5625) centre (-37.812, 70.5) ccw projected
  arc A2 (-61.4446, 114.5625) -> (-102.0393, 80.548) centre (0, 0) ccw projected
  arc A3 (-102.0393, -80.548) -> (-61.4446, -114.5625) centre (0, 0) ccw projected
  line L1 (-60, 39.0062) -> (-60, 115.3073)
  line L2 (-60.792, -40.6002) -> (-101.6775, -71.5849) projected
  line L3 (-60, -39.0062) -> (-60, -118.5898)
  line L4 (-102.4695, -73.1789) -> (-102.4695, -79.3088) projected
  arc A4 (-101.6775, -71.5849) -> (-102.4695, -73.1789) centre (-100.4695, -73.1789) ccw projected
  arc A5 (-102.4695, -79.3088) -> (-102.0393, -80.548) centre (-100.4695, -79.3088) ccw projected
  line L5 (-101.6775, 71.5849) -> (-60.792, 40.6002) projected
  line L6 (-102.4695, 79.3088) -> (-102.4695, 73.1789) projected
  arc A6 (-102.4695, 73.1789) -> (-101.6775, 71.5849) centre (-100.4695, 73.1789) ccw projected
  arc A7 (-102.0393, 80.548) -> (-102.4695, 79.3088) centre (-100.4695, 79.3088) ccw projected
  arc A8 (-60, 39.0062) -> (-60.792, 40.6002) centre (-62, 39.0062) ccw projected
  arc A9 (-60.792, -40.6002) -> (-60, -39.0062) centre (-62, -39.0062) ccw projected
  point P0 (-60.0015, 39.0827)
  point P1 (-60, -115.3073)
extrude "押し出し10" cut sketch "スケッチ21" against normal through all
fillet "フィレット6" radius 1 2 edges at (-60, 1, 115.3073) (-60, 1, -115.3073)
equation "\"d15\" = Thickness"
equation "\"d46\" = d25"
equation "\"d53\" = d35"
equation "\"d41\" = Thickness"
equation "\"d57\" = d55"
equation "\"d66\" = Thickness"
equation "\"d86\" = Thickness"
equation "\"d76\" = Thickness"
equation "\"d1\" = Thickness"
equation "\"BendRadius\" = Thickness"
equation "\"BendReliefWidth\" = Thickness"
equation "\"BendReliefDepth\" = 0.5 * Thickness"
equation "\"CornerReliefSize\" = 4 * Thickness"
equation "\"MinimumRemnant\" = 2 * Thickness"
equation "\"TransitionRadius\" = BendRadius"
equation "\"JacobiRadiusSize\" = BendRadius"
equation "\"GapSize\" = Thickness"
equation "\"Thickness\" = 2"
properties part number "T2.0_frame-base1"
